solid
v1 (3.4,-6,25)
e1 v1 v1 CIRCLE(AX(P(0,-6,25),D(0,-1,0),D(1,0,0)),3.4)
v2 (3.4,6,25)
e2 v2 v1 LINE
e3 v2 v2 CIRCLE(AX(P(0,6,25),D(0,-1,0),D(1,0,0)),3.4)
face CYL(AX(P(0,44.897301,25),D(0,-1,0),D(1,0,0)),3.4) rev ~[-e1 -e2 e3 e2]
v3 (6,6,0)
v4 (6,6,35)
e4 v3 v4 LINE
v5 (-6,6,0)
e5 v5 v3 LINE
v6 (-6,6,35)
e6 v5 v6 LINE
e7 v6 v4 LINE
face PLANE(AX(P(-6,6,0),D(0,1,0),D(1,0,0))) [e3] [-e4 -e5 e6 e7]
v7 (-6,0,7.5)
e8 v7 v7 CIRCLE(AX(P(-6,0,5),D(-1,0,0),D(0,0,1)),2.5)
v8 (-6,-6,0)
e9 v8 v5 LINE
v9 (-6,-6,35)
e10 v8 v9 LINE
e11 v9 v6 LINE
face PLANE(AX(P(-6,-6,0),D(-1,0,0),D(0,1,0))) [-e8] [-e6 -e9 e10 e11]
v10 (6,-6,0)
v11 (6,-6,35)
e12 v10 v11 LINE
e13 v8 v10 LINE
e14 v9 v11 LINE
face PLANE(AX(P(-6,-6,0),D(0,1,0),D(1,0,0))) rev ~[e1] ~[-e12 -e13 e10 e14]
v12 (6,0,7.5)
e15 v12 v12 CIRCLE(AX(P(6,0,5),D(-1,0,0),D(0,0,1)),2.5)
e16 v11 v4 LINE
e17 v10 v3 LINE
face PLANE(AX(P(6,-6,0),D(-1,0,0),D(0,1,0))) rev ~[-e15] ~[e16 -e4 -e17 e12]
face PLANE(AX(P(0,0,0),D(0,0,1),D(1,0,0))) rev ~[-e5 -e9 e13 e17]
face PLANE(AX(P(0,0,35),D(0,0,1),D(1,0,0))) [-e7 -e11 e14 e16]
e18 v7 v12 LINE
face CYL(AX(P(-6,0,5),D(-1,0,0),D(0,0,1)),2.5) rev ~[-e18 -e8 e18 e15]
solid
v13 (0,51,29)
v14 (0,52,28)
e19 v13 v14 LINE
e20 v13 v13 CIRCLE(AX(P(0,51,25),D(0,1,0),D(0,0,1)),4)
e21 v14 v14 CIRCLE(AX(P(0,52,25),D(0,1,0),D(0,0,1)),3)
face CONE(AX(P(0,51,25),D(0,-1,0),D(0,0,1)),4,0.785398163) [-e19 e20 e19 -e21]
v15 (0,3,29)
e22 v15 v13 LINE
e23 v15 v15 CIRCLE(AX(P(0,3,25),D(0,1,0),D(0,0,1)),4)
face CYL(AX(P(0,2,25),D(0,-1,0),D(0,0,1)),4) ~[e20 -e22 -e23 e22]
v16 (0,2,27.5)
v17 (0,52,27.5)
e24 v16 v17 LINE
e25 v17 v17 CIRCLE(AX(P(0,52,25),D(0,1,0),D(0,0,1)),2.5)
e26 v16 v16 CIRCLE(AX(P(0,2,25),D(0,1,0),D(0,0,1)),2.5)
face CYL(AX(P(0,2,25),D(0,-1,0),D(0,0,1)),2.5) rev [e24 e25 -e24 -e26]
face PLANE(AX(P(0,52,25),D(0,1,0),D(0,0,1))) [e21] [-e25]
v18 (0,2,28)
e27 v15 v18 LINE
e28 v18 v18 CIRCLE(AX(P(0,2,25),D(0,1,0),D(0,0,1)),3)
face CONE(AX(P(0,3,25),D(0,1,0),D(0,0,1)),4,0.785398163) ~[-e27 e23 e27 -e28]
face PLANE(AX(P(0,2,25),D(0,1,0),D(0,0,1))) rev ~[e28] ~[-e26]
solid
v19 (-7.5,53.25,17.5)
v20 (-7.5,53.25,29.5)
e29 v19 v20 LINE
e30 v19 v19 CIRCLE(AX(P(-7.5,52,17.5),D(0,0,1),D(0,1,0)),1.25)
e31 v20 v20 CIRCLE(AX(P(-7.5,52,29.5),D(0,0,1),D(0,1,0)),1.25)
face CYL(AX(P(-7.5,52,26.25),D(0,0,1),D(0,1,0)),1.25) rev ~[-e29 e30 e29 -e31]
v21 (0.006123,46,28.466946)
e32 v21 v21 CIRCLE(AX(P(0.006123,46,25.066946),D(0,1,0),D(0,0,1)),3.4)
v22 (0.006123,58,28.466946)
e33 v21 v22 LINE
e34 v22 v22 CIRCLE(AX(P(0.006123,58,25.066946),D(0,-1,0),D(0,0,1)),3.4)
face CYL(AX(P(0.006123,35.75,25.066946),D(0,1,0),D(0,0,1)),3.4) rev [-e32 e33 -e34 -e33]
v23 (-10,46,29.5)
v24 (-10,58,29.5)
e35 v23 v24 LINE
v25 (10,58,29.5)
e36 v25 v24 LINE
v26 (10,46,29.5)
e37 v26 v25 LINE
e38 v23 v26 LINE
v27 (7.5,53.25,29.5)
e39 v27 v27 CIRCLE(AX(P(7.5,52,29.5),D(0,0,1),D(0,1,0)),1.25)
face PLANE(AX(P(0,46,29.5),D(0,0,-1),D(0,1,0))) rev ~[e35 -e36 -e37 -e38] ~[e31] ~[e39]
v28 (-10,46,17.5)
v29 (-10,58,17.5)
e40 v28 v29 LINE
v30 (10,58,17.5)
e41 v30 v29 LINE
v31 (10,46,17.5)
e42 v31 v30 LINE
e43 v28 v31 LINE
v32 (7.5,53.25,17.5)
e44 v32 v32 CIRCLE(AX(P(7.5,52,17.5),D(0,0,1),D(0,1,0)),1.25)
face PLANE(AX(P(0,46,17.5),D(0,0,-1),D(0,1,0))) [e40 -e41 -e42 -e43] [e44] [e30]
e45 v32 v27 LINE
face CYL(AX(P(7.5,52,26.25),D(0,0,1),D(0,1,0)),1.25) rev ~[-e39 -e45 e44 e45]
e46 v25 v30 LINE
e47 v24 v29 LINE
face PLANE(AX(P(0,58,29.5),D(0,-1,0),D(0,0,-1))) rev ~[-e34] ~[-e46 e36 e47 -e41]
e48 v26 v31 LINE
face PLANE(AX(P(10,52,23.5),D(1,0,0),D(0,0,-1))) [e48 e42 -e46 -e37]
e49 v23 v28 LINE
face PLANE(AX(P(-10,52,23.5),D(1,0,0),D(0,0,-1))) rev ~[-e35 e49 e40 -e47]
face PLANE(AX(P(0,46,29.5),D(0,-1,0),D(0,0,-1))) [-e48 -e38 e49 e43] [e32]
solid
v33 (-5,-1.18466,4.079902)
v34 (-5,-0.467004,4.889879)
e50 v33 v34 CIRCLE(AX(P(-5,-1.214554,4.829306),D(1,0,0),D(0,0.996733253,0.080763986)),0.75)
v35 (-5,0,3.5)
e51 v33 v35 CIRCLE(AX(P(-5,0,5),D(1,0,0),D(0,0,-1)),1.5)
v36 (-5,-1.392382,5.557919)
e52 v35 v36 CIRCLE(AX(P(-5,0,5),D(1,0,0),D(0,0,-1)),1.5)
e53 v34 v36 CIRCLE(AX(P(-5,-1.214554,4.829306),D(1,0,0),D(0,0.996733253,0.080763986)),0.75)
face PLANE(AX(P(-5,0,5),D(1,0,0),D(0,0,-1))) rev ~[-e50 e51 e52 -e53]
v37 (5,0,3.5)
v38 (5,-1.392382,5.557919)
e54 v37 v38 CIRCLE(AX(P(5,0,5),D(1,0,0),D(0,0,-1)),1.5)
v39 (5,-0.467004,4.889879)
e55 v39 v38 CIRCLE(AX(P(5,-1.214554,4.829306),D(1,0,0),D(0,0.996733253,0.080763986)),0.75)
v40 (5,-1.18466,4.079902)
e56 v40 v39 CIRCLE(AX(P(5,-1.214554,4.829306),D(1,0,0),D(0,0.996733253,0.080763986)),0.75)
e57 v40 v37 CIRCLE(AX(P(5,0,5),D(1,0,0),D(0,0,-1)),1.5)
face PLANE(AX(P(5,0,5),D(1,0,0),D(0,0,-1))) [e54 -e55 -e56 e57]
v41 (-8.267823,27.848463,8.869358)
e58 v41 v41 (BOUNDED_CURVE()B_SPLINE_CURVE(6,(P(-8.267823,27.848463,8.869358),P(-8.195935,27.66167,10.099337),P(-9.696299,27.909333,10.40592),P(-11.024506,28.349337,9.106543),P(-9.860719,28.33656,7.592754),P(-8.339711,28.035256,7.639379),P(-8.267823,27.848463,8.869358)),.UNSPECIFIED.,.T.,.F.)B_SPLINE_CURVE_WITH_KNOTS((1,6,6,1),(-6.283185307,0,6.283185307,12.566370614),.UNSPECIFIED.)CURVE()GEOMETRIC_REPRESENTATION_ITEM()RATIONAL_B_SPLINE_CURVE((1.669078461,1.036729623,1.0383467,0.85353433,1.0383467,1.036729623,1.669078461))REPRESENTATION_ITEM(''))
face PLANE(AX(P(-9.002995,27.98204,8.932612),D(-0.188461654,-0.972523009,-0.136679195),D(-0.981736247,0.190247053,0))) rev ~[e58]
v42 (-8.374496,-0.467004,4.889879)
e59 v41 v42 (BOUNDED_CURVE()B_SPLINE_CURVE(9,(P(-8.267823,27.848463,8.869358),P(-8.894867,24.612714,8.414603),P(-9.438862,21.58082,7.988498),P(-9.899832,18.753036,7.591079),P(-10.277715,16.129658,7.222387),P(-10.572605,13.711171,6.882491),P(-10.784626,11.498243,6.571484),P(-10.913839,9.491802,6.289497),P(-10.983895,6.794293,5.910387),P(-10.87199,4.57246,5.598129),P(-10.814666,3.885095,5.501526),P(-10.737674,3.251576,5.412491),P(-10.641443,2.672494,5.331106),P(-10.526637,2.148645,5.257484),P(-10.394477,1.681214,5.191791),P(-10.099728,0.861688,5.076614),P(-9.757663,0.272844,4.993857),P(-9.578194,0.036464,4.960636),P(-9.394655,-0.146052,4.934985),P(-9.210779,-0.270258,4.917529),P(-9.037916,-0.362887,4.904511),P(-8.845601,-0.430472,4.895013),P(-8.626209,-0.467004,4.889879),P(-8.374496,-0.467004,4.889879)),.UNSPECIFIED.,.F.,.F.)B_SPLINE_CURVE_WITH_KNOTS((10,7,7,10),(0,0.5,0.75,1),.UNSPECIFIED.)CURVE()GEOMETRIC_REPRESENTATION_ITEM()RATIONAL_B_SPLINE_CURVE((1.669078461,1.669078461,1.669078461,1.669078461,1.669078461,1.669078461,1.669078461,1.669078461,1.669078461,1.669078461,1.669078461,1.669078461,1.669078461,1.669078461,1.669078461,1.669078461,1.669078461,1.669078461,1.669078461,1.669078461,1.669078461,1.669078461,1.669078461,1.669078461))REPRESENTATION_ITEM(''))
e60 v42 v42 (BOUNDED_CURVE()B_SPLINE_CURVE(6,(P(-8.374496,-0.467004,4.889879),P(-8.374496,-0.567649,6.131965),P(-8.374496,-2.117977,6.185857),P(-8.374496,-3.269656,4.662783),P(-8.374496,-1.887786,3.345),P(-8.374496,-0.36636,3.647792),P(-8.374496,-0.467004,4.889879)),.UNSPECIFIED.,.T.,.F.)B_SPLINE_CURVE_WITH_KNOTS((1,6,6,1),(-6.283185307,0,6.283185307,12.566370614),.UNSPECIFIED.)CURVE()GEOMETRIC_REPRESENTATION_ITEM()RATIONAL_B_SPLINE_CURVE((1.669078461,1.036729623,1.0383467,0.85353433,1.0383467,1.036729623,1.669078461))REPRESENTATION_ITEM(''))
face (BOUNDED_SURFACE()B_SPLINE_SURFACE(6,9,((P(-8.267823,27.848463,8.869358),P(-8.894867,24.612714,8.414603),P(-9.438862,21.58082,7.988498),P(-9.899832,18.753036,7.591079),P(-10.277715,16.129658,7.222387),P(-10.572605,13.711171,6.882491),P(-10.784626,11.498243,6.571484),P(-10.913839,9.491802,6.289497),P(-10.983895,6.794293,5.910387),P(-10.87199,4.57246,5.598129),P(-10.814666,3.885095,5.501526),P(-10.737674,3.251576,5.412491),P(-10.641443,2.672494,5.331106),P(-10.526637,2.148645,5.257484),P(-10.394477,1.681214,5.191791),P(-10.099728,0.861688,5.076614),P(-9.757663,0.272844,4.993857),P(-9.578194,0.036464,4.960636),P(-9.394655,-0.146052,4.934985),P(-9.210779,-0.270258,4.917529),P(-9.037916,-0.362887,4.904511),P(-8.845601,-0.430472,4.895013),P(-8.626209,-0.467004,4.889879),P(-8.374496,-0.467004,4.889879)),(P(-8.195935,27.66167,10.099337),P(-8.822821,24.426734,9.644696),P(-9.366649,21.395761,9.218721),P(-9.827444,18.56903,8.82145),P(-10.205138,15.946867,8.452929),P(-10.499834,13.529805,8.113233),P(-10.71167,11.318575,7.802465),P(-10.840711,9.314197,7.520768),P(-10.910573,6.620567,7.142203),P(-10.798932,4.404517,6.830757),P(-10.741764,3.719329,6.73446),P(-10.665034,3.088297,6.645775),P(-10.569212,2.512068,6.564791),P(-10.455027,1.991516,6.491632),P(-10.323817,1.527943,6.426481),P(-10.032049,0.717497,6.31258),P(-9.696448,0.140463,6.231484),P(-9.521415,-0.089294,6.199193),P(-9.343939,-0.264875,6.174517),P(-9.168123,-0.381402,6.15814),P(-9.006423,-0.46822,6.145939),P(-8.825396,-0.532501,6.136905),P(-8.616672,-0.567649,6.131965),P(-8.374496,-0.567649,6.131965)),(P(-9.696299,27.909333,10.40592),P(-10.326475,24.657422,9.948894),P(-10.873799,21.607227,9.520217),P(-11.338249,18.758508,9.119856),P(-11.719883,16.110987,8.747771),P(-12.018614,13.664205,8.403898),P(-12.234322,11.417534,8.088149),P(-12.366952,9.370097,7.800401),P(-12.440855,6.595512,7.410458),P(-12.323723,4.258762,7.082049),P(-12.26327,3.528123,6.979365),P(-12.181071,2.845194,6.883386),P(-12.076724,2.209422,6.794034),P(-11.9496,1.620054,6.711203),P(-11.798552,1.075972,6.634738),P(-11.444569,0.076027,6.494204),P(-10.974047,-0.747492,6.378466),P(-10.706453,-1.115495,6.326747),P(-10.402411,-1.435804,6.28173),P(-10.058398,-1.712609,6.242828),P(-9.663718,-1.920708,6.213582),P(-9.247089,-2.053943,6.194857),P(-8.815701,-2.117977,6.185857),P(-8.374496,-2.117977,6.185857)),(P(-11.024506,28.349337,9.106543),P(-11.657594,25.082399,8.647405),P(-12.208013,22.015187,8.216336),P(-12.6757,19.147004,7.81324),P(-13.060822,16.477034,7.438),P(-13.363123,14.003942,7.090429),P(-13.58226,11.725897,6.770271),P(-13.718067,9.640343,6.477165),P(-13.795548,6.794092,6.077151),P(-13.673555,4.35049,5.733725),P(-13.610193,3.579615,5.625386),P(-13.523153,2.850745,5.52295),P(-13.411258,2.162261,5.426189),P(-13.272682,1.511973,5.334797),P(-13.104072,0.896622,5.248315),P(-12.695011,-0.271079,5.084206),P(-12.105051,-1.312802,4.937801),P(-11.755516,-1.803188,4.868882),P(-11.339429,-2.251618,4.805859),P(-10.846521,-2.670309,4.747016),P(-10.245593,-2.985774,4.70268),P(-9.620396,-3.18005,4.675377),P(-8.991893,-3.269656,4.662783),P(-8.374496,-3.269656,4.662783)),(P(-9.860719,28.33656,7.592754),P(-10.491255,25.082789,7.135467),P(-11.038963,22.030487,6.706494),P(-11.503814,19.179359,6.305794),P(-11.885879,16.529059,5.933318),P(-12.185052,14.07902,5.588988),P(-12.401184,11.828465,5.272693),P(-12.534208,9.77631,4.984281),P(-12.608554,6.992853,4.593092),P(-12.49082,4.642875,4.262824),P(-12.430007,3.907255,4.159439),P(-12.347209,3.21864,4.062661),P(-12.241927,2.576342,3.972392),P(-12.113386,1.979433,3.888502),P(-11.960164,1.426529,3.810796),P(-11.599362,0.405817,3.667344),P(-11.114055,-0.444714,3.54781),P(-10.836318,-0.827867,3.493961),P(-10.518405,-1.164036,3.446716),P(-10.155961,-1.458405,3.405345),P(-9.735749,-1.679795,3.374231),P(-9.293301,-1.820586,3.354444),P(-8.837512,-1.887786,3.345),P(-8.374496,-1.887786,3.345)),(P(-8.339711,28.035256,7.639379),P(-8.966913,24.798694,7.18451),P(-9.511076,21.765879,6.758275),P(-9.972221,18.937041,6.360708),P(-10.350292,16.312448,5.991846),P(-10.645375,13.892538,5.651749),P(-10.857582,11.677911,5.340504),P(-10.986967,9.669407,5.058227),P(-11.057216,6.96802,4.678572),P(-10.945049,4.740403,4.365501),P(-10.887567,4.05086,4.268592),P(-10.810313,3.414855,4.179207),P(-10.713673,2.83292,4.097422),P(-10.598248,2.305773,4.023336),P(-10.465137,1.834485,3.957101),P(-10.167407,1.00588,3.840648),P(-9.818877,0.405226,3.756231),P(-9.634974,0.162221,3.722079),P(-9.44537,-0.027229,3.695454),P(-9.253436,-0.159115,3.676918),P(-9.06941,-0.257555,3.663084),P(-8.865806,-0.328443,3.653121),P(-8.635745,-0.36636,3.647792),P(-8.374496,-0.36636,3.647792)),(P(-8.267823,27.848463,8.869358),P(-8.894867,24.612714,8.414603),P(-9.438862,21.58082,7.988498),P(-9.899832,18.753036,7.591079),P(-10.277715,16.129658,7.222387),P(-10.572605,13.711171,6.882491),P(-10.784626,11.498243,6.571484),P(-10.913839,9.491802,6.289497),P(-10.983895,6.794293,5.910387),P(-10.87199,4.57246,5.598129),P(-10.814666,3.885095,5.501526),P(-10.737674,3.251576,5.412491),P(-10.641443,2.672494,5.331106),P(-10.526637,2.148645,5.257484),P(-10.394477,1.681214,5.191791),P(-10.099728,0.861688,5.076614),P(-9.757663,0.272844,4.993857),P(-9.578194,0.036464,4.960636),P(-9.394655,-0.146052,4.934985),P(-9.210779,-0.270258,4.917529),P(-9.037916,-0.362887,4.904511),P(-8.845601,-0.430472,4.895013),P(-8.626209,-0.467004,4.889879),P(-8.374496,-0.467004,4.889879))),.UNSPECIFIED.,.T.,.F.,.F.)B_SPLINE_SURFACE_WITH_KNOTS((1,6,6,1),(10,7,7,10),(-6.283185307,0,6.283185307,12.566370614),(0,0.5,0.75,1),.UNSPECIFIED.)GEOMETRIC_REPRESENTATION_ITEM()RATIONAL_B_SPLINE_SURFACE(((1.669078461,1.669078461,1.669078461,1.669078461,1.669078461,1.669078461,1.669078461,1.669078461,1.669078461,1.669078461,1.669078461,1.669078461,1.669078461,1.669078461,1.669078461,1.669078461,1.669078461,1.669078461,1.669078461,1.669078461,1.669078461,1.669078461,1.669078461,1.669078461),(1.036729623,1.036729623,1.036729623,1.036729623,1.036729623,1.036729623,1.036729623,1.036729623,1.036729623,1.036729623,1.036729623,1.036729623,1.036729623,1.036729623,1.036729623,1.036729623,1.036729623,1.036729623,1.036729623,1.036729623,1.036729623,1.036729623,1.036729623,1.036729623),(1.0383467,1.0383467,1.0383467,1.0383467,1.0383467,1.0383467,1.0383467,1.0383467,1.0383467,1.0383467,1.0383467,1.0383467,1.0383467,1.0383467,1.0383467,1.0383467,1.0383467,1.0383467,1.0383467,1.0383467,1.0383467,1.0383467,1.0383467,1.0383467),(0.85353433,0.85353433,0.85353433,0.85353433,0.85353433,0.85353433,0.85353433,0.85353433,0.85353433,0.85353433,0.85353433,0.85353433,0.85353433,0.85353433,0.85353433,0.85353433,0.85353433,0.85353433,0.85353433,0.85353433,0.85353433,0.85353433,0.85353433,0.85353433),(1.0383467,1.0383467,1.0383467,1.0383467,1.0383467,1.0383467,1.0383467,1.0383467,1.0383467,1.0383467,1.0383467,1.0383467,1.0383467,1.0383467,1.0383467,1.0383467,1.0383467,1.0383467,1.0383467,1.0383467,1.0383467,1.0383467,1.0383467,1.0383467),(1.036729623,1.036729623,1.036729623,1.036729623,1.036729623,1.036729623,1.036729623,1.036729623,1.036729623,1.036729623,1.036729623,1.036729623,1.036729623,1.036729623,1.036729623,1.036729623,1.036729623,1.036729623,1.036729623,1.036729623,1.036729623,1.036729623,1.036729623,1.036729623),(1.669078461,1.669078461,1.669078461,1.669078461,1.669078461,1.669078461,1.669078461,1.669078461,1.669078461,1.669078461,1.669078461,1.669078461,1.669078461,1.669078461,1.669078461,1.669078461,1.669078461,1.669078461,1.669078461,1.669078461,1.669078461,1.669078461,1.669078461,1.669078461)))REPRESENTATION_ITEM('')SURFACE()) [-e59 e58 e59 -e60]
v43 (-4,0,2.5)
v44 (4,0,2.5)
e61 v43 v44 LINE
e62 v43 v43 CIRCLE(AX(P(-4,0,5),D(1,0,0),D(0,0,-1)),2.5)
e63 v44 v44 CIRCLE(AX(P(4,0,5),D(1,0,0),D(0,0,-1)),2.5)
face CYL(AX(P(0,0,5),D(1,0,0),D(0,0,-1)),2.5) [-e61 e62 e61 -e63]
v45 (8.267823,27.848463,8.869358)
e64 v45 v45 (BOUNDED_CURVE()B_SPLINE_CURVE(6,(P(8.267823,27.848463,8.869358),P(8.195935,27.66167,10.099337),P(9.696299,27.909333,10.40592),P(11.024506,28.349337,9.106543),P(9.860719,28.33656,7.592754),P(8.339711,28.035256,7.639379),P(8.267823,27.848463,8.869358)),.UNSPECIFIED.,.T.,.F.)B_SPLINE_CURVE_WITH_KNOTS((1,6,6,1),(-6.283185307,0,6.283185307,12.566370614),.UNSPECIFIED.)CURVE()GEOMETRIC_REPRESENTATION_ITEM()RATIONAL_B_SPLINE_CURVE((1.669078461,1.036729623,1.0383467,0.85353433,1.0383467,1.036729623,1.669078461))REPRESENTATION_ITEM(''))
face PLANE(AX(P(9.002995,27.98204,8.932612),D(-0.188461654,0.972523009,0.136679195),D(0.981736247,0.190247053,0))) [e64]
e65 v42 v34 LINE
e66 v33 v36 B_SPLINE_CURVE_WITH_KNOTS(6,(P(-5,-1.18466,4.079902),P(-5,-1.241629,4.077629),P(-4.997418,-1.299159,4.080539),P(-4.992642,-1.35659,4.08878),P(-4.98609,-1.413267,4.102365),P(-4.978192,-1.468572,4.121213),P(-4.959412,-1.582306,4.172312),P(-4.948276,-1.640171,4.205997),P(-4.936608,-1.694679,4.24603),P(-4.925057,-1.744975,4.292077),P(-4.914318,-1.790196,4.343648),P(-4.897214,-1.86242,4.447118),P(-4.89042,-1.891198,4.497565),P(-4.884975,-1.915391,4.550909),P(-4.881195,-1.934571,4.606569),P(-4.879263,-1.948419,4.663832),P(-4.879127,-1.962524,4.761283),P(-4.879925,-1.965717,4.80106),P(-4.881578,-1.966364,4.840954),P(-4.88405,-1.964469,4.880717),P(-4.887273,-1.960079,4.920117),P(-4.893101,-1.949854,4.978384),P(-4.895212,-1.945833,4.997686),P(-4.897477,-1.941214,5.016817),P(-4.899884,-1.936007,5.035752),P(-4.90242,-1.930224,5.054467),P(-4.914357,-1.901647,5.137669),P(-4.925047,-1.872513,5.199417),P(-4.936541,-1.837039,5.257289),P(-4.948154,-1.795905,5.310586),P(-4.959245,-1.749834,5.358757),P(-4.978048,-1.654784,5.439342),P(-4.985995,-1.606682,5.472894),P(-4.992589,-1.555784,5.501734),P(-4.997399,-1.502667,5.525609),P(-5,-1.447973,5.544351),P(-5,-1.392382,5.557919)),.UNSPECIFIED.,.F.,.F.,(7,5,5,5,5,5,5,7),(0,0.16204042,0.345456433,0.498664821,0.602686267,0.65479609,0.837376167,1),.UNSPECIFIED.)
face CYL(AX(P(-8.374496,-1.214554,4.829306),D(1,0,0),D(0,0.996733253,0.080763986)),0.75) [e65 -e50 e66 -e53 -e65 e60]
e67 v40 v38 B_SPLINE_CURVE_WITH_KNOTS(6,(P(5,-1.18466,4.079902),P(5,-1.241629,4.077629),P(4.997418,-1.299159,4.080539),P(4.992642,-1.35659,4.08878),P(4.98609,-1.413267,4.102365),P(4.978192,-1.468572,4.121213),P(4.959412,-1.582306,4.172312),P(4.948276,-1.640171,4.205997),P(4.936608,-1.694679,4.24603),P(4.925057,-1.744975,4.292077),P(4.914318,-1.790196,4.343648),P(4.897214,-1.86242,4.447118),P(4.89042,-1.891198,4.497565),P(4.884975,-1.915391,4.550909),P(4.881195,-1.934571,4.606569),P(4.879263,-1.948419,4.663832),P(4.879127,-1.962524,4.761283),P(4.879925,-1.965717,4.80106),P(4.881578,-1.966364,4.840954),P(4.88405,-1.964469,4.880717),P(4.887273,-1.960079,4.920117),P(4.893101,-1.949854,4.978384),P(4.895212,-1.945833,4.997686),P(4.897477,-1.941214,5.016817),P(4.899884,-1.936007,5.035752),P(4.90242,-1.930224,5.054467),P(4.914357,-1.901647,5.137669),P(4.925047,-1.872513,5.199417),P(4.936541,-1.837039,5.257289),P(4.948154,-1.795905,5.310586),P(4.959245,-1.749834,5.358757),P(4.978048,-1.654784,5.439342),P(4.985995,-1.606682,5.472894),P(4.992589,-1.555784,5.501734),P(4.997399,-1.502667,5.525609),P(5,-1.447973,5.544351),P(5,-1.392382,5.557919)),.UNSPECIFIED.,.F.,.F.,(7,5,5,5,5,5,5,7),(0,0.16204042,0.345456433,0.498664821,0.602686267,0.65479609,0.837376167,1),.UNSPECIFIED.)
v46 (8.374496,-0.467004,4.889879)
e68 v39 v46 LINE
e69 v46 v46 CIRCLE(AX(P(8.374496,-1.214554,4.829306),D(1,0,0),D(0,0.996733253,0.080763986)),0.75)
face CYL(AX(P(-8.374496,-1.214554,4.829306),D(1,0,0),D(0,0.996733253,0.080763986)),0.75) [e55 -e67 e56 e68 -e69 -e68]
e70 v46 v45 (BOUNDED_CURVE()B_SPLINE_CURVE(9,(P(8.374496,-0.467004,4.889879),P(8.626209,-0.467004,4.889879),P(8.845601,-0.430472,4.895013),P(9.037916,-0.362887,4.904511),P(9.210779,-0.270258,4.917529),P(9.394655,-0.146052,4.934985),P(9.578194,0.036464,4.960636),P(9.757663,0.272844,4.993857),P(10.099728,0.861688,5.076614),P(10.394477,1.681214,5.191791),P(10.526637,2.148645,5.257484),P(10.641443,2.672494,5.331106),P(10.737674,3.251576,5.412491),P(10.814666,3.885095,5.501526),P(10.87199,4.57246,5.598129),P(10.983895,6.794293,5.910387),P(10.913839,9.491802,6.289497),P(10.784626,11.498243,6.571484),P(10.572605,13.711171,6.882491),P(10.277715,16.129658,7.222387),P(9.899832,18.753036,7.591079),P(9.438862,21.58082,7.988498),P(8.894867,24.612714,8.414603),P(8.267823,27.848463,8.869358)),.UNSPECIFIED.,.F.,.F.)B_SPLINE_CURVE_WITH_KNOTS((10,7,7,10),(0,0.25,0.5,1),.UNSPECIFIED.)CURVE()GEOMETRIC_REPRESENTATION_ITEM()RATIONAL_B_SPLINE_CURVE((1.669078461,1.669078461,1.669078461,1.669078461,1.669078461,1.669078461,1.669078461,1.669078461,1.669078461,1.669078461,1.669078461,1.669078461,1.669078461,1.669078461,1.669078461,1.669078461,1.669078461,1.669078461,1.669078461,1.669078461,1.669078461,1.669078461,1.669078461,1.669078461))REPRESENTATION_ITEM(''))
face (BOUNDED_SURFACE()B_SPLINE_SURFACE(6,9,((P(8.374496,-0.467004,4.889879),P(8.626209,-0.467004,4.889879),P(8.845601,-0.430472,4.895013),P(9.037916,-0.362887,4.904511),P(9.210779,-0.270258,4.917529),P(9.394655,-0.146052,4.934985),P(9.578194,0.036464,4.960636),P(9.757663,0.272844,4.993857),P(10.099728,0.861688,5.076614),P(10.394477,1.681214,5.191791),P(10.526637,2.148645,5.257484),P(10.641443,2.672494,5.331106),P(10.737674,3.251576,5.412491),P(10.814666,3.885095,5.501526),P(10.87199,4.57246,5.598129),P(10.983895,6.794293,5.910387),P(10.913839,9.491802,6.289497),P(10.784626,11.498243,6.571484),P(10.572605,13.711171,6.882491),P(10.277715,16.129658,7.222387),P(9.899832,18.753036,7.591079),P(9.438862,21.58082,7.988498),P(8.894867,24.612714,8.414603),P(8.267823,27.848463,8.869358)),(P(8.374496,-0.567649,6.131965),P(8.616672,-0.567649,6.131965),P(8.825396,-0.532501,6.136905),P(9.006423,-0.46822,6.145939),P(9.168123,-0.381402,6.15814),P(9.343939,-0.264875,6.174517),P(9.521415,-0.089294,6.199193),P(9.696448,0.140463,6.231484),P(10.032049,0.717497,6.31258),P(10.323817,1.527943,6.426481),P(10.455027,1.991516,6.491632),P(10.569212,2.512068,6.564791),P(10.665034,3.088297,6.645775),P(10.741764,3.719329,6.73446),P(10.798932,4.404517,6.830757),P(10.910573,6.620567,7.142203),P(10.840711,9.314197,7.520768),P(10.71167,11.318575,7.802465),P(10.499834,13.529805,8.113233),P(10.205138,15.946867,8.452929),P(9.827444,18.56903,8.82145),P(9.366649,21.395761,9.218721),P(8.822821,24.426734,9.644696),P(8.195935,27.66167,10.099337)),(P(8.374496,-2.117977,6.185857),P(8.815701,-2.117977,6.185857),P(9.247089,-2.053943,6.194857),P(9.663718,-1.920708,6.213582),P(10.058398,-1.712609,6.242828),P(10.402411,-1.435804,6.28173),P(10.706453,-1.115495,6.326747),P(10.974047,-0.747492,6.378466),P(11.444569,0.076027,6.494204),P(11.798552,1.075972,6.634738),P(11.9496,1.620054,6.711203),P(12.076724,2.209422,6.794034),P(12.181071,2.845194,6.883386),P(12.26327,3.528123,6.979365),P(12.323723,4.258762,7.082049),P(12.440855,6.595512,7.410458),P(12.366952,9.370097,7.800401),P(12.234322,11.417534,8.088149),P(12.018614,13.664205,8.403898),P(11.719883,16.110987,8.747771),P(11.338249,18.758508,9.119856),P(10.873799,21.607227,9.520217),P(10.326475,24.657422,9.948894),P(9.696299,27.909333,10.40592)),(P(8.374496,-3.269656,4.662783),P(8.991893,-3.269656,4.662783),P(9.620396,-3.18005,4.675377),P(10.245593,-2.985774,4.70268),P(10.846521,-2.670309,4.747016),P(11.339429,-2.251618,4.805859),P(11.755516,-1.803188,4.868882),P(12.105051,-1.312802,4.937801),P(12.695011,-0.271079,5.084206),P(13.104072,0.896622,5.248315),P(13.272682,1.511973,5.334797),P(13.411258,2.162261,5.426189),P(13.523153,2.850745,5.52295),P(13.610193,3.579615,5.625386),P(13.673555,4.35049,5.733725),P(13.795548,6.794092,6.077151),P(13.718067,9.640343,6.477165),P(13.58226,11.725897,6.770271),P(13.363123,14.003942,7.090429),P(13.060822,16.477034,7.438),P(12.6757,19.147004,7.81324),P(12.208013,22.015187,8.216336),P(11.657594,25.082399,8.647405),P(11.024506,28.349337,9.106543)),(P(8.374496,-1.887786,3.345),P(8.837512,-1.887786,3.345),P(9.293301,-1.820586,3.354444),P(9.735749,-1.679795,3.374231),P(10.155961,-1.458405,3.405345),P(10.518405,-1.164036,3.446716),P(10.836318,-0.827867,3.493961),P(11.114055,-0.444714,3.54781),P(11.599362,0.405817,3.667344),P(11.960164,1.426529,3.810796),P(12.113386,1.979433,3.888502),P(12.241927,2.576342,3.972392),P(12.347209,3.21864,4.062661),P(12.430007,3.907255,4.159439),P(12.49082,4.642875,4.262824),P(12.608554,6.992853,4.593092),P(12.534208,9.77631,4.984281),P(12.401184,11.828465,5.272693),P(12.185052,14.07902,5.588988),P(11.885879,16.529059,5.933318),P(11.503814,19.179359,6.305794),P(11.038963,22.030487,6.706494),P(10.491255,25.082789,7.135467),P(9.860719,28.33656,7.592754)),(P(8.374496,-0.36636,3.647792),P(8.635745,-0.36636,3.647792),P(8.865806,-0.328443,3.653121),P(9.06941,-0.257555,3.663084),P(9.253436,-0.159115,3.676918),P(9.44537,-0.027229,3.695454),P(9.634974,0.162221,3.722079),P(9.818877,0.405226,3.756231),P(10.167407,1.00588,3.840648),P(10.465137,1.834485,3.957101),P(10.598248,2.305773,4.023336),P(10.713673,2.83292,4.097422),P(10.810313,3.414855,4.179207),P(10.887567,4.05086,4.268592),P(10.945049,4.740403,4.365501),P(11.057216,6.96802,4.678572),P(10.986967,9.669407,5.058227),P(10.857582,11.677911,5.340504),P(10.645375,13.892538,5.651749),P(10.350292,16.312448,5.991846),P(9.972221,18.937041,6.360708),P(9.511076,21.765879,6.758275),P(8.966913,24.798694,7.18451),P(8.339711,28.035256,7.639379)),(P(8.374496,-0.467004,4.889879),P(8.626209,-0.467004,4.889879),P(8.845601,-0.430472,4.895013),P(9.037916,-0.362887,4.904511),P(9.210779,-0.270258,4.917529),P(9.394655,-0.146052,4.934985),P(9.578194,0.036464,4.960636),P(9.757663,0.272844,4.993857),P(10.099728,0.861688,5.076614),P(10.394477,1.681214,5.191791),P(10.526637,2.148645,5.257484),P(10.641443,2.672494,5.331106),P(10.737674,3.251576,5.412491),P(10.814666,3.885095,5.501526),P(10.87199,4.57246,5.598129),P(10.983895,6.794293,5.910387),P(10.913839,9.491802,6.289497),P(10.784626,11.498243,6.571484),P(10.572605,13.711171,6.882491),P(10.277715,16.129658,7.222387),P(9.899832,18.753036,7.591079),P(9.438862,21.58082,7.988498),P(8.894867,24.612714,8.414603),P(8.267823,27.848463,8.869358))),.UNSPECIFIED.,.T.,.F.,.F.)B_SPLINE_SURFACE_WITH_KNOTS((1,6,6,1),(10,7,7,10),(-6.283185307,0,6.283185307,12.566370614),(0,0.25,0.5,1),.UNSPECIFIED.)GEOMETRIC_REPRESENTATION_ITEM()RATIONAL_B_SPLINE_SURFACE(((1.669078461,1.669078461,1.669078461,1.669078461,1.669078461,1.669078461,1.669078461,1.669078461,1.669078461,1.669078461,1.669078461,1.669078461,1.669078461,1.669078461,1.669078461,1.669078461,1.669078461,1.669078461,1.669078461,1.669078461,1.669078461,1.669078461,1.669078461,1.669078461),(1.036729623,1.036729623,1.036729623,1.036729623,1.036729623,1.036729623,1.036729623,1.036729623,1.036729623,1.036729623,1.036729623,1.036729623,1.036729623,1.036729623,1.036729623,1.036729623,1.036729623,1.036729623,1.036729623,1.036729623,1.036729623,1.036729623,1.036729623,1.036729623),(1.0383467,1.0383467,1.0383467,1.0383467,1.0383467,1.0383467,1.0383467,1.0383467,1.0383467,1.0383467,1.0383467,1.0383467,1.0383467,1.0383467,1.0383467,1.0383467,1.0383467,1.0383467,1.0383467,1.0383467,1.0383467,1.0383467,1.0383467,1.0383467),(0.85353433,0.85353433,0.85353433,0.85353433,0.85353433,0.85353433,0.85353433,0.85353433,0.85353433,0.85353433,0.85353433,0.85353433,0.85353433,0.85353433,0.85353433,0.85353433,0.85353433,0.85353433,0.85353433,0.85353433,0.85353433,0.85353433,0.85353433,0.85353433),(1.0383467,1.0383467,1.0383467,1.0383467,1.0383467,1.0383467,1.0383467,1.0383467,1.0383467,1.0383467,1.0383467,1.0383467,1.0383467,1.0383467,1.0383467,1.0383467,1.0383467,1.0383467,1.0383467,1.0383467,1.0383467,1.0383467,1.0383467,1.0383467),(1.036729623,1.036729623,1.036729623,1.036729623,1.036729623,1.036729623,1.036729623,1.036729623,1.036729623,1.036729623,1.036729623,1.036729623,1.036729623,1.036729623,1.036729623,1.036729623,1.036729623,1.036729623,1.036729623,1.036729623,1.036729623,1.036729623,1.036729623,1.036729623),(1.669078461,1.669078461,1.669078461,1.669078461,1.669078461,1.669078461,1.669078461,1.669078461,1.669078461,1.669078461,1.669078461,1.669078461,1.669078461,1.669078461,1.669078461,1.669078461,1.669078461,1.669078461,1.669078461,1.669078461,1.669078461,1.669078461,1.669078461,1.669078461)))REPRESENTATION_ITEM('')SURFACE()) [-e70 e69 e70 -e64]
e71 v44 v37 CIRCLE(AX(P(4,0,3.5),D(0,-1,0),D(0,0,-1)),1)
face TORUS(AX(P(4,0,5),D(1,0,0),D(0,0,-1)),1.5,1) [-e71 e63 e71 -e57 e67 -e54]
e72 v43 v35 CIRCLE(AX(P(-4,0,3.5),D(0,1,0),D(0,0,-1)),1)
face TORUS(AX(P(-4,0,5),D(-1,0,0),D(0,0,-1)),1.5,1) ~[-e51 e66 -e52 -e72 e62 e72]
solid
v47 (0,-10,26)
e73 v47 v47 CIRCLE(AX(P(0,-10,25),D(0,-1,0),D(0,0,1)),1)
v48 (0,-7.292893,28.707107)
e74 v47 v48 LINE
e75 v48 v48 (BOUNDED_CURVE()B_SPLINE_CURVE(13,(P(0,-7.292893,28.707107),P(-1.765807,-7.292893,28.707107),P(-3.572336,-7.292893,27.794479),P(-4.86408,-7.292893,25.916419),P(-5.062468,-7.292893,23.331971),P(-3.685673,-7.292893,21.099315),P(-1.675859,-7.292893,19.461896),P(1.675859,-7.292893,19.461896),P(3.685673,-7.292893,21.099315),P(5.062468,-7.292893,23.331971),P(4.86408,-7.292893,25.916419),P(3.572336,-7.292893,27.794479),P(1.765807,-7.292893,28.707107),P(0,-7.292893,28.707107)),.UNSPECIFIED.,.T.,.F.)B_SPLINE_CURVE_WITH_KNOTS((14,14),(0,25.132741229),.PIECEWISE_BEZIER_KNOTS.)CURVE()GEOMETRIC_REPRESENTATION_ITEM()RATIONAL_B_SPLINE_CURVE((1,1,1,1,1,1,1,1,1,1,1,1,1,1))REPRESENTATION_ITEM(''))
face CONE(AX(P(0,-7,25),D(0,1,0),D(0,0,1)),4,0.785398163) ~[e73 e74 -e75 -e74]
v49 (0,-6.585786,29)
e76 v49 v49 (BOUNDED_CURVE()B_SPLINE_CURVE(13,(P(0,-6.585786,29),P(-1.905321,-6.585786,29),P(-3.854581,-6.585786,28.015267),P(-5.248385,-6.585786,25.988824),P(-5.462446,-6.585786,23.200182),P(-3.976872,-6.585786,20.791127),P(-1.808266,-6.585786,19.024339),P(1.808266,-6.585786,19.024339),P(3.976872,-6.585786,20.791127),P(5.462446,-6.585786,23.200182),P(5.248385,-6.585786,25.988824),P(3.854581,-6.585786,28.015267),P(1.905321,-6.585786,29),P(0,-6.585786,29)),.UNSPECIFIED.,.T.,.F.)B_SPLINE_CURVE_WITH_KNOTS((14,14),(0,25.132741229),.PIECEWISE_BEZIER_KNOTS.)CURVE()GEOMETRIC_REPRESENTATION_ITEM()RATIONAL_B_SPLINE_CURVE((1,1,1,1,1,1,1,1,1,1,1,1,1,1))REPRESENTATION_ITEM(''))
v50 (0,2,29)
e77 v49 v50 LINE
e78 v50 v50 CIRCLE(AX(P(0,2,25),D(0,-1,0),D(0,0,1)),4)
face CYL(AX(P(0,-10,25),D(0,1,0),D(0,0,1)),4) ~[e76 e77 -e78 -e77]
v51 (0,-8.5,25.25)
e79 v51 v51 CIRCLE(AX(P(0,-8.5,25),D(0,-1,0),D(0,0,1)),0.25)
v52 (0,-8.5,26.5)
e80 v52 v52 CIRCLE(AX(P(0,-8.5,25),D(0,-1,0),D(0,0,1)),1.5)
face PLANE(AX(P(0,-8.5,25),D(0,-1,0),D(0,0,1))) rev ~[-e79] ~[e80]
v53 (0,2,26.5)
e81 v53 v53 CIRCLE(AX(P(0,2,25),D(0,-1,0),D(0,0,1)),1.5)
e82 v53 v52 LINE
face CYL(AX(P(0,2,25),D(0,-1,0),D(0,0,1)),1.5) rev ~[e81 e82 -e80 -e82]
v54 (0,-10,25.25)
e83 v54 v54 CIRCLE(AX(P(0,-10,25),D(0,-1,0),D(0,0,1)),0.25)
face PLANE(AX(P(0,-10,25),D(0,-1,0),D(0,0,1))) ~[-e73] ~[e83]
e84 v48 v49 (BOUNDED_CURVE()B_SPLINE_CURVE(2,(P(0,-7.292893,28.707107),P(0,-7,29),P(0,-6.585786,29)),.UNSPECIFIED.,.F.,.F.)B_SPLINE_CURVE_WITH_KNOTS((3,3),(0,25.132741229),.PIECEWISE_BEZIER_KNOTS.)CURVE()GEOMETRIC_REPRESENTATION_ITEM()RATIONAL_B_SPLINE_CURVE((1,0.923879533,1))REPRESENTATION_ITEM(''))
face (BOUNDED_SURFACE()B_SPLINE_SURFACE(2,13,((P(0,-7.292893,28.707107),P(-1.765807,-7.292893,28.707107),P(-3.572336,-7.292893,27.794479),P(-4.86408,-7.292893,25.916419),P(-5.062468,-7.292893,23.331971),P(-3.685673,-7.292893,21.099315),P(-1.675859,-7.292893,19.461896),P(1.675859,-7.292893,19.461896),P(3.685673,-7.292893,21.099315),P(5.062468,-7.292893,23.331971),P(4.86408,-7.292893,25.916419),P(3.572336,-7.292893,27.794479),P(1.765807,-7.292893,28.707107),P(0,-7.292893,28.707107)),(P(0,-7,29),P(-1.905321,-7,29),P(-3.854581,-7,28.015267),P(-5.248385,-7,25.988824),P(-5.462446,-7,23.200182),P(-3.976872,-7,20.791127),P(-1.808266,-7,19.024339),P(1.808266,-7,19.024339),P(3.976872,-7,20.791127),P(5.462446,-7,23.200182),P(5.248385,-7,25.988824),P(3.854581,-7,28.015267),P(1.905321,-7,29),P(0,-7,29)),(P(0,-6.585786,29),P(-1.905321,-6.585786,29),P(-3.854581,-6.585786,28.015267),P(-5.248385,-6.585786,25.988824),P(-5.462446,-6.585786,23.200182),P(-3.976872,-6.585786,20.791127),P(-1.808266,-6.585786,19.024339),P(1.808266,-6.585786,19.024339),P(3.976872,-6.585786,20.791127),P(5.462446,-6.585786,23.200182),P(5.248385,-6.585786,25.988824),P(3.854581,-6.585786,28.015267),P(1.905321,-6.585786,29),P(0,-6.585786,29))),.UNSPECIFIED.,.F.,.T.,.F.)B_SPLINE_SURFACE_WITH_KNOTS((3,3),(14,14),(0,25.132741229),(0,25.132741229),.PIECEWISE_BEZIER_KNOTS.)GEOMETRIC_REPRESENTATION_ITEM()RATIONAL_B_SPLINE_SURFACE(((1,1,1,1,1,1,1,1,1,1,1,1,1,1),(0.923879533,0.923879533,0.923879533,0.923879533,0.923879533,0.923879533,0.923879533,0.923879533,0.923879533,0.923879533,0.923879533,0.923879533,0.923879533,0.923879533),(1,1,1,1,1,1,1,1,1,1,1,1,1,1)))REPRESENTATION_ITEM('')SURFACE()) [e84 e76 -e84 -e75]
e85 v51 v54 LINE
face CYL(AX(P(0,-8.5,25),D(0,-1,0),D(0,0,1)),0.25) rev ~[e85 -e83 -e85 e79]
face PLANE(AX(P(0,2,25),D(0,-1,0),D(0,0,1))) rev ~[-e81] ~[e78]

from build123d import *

# Parameters (mm, degrees)
SKIZZE1_W                       = 12
SKIZZE1_H                       = 12
AUFSATZ_LINEAR_AUSTRAGEN1_DEPTH = 35
SKIZZE2_R                       = 2.5
SCHNITT_LINEAR_AUSTRAGEN1_DEPTH = 35
M8_GEWINDEBOHRUNG1_D            = 6.8
FASE1_SIZE                      = 3
VERRUNDUNG2_R                   = 1
SKIZZE8_R                       = 4
SKIZZE8_R_2                     = 2.5
AUFSATZ_LINEAR_AUSTRAGEN2_DEPTH = 50
FASE2_SIZE                      = 1
SKIZZE9_R                       = 2.5
AUFSATZ_LINEAR_AUSTRAGEN3_DEPTH = 5
VERRUNDUNG3_R                   = 1
SKIZZE11_R                      = 0.75
SKIZZE12_W                      = 12
SKIZZE12_H                      = 12
AUFSATZ_LINEAR_AUSTRAGEN4_DEPTH = 10
SKIZZE15_W                      = 1.25
SKIZZE15_H                      = 17.5
M3_GEWINDEBOHRUNG1_AT_2_COUNT   = 2
M3_GEWINDEBOHRUNG1_AT_2_PITCH   = 15


with BuildPart() as part:
    # Skizze1 → Aufsatz-Linear austragen1 (new body)
    with BuildSketch(Plane.XY):
        Rectangle(SKIZZE1_W, SKIZZE1_H)
    extrude(amount=AUFSATZ_LINEAR_AUSTRAGEN1_DEPTH)

    # Skizze2 → Schnitt-Linear austragen1 (cut)
    with BuildSketch(Plane.ZY.offset(6)):
        with Locations((5, 0)):
            Circle(SKIZZE2_R)
    extrude(amount=-SCHNITT_LINEAR_AUSTRAGEN1_DEPTH, mode=Mode.SUBTRACT)

    # M8 Gewindebohrung1 (through all)
    with Locations(Plane(origin=(0, 6, 0), x_dir=(-1, 0, 0), z_dir=(0, 1, 0))):
        with Locations((0, 25)):
            Hole(M8_GEWINDEBOHRUNG1_D / 2)


with BuildPart() as body_2:
    # Skizze7 → Rotation1 (revolve)
    with BuildSketch(Plane(origin=(0, 0, 0), x_dir=(0, 0, -1), z_dir=(1, 0, 0))):
        Polygon((-29, 2), (-26.5, 2), (-26.5, -8.5), (-25.25, -8.5), (-25.25, -10), (-29, -10), align=None)
    revolve(axis=Axis((0, 2, 25), (0, -1, 0)))

    # Fase1
    fase1_edges = [body_2.edges().sort_by_distance(p)[0] for p in [
        (0, -10, 21),
    ]]
    chamfer(fase1_edges, length=FASE1_SIZE)

    # Verrundung2
    verrundung2_edges = [body_2.edges().sort_by_distance(p)[0] for p in [
        (0, -7, 21),
    ]]
    fillet(verrundung2_edges, radius=VERRUNDUNG2_R)


with BuildPart() as body_3:
    # Skizze8 → Aufsatz-Linear austragen2 (new body)
    with BuildSketch(Plane(origin=(0, 2, 0), x_dir=(1, 0, 0), z_dir=(0, 1, 0))):
        with Locations((0, -25)):
            Circle(SKIZZE8_R)
        with Locations((0, -25)):
            Circle(SKIZZE8_R_2, mode=Mode.SUBTRACT)
    extrude(amount=AUFSATZ_LINEAR_AUSTRAGEN2_DEPTH)

    # Fase2
    fase2_edges = [body_3.edges().sort_by_distance(p)[0] for p in [
        (-4, 2, 25),
        (-4, 52, 25),
    ]]
    chamfer(fase2_edges, length=FASE2_SIZE)


with BuildPart() as body_4:
    # Skizze9 → Aufsatz-Linear austragen3 (new, symmetric)
    with BuildSketch(Plane(origin=(0, 0, 0), x_dir=(0, 0, -1), z_dir=(1, 0, 0))):
        with Locations((-5, 0)):
            Circle(SKIZZE9_R)
    extrude(amount=AUFSATZ_LINEAR_AUSTRAGEN3_DEPTH, both=True)

    # Verrundung3
    verrundung3_edges = [body_4.edges().sort_by_distance(p)[0] for p in [
        (5, 0, 7.5),
        (-5, 0, 7.5),
    ]]
    fillet(verrundung3_edges, radius=VERRUNDUNG3_R)

    # Austragung1: sweep along a path in Skizze10
    with BuildLine() as austragung1_path:  # in the path sketch's own coordinates; laid on its plane below (add() does not lay a ready-made edge on the line's plane)
        add(Edge.make_bspline(
            [(9.0031118, 28.952922174), (14.661016366, -0.530624786), (8.3744964, -0.530624786)],
            knots=[0, 0, 0, 1, 1, 1], degree=2))
        Line((8.3744964, -0.530624786), (-8.3744964, -0.530624786))
        add(Edge.make_bspline(
            [(-8.3744964, -0.530624786), (-14.661016366, -0.530624786), (-9.0031118, 28.952922174)],
            knots=[0, 0, 0, 1, 1, 1], degree=2))
    # Skizze11 → Austragung1 (sweep)
    with BuildSketch(Plane(origin=(9.0031118, 27.982060936, 8.932622201), x_dir=(-0.980384779209946, -0.17813021392733064, -0.08435230630912684), z_dir=(-0.1884616539074955, 0.9725230087492234, 0.13667919541689408))):
        Circle(SKIZZE11_R)
    sweep(path=Plane(origin=(0, -0.68909339, 4.90315424), x_dir=(-1, 0, 0), z_dir=(0, 0.1391731009600624, -0.9902680687415708)) * austragung1_path.line)


with BuildPart() as body_5:
    # Skizze12 → Aufsatz-Linear austragen4 (new, symmetric)
    with BuildSketch(Plane(origin=(0, 0, 0), x_dir=(0, 0, -1), z_dir=(1, 0, 0))):
        with Locations((-23.5, 52)):
            Rectangle(SKIZZE12_W, SKIZZE12_H)
    extrude(amount=AUFSATZ_LINEAR_AUSTRAGEN4_DEPTH, both=True)

    # Skizze13 → M8 Gewindebohrung2 (revolve, cut)
    with BuildSketch(Plane(origin=(0.006122574, 58, 25.06694587), x_dir=(0, 0, 1), z_dir=(1, 0, 0))):
        Polygon((0, 0), (0, 24.292926105), (3.4, 22.25), (3.4, 0), align=None)
    revolve(axis=Axis((0.006122574, 64.35, 25.06694587), (0, -1, 0)), mode=Mode.SUBTRACT)

    # Skizze15 → M3 Gewindebohrung1 (revolve, cut)
    with BuildSketch(Plane(origin=(7.5, 52, 17.5), x_dir=(0, 1, 0), z_dir=(1, 0, 0))):
        with Locations((0.625, 8.75)):
            Rectangle(SKIZZE15_W, SKIZZE15_H)
    m3_gewindebohrung1 = revolve(axis=Axis((7.5, 52, 11.15), (0, 0, 1)), mode=Mode.SUBTRACT)

    # M3 Gewindebohrung1 at 2: M3 Gewindebohrung1 ×2
    with Locations(*[(-i * M3_GEWINDEBOHRUNG1_AT_2_PITCH, 0, 0) for i in range(1, M3_GEWINDEBOHRUNG1_AT_2_COUNT)]):
        add(m3_gewindebohrung1, mode=Mode.SUBTRACT)


solid = Compound([part.part, body_2.part, body_3.part, body_4.part, body_5.part])
